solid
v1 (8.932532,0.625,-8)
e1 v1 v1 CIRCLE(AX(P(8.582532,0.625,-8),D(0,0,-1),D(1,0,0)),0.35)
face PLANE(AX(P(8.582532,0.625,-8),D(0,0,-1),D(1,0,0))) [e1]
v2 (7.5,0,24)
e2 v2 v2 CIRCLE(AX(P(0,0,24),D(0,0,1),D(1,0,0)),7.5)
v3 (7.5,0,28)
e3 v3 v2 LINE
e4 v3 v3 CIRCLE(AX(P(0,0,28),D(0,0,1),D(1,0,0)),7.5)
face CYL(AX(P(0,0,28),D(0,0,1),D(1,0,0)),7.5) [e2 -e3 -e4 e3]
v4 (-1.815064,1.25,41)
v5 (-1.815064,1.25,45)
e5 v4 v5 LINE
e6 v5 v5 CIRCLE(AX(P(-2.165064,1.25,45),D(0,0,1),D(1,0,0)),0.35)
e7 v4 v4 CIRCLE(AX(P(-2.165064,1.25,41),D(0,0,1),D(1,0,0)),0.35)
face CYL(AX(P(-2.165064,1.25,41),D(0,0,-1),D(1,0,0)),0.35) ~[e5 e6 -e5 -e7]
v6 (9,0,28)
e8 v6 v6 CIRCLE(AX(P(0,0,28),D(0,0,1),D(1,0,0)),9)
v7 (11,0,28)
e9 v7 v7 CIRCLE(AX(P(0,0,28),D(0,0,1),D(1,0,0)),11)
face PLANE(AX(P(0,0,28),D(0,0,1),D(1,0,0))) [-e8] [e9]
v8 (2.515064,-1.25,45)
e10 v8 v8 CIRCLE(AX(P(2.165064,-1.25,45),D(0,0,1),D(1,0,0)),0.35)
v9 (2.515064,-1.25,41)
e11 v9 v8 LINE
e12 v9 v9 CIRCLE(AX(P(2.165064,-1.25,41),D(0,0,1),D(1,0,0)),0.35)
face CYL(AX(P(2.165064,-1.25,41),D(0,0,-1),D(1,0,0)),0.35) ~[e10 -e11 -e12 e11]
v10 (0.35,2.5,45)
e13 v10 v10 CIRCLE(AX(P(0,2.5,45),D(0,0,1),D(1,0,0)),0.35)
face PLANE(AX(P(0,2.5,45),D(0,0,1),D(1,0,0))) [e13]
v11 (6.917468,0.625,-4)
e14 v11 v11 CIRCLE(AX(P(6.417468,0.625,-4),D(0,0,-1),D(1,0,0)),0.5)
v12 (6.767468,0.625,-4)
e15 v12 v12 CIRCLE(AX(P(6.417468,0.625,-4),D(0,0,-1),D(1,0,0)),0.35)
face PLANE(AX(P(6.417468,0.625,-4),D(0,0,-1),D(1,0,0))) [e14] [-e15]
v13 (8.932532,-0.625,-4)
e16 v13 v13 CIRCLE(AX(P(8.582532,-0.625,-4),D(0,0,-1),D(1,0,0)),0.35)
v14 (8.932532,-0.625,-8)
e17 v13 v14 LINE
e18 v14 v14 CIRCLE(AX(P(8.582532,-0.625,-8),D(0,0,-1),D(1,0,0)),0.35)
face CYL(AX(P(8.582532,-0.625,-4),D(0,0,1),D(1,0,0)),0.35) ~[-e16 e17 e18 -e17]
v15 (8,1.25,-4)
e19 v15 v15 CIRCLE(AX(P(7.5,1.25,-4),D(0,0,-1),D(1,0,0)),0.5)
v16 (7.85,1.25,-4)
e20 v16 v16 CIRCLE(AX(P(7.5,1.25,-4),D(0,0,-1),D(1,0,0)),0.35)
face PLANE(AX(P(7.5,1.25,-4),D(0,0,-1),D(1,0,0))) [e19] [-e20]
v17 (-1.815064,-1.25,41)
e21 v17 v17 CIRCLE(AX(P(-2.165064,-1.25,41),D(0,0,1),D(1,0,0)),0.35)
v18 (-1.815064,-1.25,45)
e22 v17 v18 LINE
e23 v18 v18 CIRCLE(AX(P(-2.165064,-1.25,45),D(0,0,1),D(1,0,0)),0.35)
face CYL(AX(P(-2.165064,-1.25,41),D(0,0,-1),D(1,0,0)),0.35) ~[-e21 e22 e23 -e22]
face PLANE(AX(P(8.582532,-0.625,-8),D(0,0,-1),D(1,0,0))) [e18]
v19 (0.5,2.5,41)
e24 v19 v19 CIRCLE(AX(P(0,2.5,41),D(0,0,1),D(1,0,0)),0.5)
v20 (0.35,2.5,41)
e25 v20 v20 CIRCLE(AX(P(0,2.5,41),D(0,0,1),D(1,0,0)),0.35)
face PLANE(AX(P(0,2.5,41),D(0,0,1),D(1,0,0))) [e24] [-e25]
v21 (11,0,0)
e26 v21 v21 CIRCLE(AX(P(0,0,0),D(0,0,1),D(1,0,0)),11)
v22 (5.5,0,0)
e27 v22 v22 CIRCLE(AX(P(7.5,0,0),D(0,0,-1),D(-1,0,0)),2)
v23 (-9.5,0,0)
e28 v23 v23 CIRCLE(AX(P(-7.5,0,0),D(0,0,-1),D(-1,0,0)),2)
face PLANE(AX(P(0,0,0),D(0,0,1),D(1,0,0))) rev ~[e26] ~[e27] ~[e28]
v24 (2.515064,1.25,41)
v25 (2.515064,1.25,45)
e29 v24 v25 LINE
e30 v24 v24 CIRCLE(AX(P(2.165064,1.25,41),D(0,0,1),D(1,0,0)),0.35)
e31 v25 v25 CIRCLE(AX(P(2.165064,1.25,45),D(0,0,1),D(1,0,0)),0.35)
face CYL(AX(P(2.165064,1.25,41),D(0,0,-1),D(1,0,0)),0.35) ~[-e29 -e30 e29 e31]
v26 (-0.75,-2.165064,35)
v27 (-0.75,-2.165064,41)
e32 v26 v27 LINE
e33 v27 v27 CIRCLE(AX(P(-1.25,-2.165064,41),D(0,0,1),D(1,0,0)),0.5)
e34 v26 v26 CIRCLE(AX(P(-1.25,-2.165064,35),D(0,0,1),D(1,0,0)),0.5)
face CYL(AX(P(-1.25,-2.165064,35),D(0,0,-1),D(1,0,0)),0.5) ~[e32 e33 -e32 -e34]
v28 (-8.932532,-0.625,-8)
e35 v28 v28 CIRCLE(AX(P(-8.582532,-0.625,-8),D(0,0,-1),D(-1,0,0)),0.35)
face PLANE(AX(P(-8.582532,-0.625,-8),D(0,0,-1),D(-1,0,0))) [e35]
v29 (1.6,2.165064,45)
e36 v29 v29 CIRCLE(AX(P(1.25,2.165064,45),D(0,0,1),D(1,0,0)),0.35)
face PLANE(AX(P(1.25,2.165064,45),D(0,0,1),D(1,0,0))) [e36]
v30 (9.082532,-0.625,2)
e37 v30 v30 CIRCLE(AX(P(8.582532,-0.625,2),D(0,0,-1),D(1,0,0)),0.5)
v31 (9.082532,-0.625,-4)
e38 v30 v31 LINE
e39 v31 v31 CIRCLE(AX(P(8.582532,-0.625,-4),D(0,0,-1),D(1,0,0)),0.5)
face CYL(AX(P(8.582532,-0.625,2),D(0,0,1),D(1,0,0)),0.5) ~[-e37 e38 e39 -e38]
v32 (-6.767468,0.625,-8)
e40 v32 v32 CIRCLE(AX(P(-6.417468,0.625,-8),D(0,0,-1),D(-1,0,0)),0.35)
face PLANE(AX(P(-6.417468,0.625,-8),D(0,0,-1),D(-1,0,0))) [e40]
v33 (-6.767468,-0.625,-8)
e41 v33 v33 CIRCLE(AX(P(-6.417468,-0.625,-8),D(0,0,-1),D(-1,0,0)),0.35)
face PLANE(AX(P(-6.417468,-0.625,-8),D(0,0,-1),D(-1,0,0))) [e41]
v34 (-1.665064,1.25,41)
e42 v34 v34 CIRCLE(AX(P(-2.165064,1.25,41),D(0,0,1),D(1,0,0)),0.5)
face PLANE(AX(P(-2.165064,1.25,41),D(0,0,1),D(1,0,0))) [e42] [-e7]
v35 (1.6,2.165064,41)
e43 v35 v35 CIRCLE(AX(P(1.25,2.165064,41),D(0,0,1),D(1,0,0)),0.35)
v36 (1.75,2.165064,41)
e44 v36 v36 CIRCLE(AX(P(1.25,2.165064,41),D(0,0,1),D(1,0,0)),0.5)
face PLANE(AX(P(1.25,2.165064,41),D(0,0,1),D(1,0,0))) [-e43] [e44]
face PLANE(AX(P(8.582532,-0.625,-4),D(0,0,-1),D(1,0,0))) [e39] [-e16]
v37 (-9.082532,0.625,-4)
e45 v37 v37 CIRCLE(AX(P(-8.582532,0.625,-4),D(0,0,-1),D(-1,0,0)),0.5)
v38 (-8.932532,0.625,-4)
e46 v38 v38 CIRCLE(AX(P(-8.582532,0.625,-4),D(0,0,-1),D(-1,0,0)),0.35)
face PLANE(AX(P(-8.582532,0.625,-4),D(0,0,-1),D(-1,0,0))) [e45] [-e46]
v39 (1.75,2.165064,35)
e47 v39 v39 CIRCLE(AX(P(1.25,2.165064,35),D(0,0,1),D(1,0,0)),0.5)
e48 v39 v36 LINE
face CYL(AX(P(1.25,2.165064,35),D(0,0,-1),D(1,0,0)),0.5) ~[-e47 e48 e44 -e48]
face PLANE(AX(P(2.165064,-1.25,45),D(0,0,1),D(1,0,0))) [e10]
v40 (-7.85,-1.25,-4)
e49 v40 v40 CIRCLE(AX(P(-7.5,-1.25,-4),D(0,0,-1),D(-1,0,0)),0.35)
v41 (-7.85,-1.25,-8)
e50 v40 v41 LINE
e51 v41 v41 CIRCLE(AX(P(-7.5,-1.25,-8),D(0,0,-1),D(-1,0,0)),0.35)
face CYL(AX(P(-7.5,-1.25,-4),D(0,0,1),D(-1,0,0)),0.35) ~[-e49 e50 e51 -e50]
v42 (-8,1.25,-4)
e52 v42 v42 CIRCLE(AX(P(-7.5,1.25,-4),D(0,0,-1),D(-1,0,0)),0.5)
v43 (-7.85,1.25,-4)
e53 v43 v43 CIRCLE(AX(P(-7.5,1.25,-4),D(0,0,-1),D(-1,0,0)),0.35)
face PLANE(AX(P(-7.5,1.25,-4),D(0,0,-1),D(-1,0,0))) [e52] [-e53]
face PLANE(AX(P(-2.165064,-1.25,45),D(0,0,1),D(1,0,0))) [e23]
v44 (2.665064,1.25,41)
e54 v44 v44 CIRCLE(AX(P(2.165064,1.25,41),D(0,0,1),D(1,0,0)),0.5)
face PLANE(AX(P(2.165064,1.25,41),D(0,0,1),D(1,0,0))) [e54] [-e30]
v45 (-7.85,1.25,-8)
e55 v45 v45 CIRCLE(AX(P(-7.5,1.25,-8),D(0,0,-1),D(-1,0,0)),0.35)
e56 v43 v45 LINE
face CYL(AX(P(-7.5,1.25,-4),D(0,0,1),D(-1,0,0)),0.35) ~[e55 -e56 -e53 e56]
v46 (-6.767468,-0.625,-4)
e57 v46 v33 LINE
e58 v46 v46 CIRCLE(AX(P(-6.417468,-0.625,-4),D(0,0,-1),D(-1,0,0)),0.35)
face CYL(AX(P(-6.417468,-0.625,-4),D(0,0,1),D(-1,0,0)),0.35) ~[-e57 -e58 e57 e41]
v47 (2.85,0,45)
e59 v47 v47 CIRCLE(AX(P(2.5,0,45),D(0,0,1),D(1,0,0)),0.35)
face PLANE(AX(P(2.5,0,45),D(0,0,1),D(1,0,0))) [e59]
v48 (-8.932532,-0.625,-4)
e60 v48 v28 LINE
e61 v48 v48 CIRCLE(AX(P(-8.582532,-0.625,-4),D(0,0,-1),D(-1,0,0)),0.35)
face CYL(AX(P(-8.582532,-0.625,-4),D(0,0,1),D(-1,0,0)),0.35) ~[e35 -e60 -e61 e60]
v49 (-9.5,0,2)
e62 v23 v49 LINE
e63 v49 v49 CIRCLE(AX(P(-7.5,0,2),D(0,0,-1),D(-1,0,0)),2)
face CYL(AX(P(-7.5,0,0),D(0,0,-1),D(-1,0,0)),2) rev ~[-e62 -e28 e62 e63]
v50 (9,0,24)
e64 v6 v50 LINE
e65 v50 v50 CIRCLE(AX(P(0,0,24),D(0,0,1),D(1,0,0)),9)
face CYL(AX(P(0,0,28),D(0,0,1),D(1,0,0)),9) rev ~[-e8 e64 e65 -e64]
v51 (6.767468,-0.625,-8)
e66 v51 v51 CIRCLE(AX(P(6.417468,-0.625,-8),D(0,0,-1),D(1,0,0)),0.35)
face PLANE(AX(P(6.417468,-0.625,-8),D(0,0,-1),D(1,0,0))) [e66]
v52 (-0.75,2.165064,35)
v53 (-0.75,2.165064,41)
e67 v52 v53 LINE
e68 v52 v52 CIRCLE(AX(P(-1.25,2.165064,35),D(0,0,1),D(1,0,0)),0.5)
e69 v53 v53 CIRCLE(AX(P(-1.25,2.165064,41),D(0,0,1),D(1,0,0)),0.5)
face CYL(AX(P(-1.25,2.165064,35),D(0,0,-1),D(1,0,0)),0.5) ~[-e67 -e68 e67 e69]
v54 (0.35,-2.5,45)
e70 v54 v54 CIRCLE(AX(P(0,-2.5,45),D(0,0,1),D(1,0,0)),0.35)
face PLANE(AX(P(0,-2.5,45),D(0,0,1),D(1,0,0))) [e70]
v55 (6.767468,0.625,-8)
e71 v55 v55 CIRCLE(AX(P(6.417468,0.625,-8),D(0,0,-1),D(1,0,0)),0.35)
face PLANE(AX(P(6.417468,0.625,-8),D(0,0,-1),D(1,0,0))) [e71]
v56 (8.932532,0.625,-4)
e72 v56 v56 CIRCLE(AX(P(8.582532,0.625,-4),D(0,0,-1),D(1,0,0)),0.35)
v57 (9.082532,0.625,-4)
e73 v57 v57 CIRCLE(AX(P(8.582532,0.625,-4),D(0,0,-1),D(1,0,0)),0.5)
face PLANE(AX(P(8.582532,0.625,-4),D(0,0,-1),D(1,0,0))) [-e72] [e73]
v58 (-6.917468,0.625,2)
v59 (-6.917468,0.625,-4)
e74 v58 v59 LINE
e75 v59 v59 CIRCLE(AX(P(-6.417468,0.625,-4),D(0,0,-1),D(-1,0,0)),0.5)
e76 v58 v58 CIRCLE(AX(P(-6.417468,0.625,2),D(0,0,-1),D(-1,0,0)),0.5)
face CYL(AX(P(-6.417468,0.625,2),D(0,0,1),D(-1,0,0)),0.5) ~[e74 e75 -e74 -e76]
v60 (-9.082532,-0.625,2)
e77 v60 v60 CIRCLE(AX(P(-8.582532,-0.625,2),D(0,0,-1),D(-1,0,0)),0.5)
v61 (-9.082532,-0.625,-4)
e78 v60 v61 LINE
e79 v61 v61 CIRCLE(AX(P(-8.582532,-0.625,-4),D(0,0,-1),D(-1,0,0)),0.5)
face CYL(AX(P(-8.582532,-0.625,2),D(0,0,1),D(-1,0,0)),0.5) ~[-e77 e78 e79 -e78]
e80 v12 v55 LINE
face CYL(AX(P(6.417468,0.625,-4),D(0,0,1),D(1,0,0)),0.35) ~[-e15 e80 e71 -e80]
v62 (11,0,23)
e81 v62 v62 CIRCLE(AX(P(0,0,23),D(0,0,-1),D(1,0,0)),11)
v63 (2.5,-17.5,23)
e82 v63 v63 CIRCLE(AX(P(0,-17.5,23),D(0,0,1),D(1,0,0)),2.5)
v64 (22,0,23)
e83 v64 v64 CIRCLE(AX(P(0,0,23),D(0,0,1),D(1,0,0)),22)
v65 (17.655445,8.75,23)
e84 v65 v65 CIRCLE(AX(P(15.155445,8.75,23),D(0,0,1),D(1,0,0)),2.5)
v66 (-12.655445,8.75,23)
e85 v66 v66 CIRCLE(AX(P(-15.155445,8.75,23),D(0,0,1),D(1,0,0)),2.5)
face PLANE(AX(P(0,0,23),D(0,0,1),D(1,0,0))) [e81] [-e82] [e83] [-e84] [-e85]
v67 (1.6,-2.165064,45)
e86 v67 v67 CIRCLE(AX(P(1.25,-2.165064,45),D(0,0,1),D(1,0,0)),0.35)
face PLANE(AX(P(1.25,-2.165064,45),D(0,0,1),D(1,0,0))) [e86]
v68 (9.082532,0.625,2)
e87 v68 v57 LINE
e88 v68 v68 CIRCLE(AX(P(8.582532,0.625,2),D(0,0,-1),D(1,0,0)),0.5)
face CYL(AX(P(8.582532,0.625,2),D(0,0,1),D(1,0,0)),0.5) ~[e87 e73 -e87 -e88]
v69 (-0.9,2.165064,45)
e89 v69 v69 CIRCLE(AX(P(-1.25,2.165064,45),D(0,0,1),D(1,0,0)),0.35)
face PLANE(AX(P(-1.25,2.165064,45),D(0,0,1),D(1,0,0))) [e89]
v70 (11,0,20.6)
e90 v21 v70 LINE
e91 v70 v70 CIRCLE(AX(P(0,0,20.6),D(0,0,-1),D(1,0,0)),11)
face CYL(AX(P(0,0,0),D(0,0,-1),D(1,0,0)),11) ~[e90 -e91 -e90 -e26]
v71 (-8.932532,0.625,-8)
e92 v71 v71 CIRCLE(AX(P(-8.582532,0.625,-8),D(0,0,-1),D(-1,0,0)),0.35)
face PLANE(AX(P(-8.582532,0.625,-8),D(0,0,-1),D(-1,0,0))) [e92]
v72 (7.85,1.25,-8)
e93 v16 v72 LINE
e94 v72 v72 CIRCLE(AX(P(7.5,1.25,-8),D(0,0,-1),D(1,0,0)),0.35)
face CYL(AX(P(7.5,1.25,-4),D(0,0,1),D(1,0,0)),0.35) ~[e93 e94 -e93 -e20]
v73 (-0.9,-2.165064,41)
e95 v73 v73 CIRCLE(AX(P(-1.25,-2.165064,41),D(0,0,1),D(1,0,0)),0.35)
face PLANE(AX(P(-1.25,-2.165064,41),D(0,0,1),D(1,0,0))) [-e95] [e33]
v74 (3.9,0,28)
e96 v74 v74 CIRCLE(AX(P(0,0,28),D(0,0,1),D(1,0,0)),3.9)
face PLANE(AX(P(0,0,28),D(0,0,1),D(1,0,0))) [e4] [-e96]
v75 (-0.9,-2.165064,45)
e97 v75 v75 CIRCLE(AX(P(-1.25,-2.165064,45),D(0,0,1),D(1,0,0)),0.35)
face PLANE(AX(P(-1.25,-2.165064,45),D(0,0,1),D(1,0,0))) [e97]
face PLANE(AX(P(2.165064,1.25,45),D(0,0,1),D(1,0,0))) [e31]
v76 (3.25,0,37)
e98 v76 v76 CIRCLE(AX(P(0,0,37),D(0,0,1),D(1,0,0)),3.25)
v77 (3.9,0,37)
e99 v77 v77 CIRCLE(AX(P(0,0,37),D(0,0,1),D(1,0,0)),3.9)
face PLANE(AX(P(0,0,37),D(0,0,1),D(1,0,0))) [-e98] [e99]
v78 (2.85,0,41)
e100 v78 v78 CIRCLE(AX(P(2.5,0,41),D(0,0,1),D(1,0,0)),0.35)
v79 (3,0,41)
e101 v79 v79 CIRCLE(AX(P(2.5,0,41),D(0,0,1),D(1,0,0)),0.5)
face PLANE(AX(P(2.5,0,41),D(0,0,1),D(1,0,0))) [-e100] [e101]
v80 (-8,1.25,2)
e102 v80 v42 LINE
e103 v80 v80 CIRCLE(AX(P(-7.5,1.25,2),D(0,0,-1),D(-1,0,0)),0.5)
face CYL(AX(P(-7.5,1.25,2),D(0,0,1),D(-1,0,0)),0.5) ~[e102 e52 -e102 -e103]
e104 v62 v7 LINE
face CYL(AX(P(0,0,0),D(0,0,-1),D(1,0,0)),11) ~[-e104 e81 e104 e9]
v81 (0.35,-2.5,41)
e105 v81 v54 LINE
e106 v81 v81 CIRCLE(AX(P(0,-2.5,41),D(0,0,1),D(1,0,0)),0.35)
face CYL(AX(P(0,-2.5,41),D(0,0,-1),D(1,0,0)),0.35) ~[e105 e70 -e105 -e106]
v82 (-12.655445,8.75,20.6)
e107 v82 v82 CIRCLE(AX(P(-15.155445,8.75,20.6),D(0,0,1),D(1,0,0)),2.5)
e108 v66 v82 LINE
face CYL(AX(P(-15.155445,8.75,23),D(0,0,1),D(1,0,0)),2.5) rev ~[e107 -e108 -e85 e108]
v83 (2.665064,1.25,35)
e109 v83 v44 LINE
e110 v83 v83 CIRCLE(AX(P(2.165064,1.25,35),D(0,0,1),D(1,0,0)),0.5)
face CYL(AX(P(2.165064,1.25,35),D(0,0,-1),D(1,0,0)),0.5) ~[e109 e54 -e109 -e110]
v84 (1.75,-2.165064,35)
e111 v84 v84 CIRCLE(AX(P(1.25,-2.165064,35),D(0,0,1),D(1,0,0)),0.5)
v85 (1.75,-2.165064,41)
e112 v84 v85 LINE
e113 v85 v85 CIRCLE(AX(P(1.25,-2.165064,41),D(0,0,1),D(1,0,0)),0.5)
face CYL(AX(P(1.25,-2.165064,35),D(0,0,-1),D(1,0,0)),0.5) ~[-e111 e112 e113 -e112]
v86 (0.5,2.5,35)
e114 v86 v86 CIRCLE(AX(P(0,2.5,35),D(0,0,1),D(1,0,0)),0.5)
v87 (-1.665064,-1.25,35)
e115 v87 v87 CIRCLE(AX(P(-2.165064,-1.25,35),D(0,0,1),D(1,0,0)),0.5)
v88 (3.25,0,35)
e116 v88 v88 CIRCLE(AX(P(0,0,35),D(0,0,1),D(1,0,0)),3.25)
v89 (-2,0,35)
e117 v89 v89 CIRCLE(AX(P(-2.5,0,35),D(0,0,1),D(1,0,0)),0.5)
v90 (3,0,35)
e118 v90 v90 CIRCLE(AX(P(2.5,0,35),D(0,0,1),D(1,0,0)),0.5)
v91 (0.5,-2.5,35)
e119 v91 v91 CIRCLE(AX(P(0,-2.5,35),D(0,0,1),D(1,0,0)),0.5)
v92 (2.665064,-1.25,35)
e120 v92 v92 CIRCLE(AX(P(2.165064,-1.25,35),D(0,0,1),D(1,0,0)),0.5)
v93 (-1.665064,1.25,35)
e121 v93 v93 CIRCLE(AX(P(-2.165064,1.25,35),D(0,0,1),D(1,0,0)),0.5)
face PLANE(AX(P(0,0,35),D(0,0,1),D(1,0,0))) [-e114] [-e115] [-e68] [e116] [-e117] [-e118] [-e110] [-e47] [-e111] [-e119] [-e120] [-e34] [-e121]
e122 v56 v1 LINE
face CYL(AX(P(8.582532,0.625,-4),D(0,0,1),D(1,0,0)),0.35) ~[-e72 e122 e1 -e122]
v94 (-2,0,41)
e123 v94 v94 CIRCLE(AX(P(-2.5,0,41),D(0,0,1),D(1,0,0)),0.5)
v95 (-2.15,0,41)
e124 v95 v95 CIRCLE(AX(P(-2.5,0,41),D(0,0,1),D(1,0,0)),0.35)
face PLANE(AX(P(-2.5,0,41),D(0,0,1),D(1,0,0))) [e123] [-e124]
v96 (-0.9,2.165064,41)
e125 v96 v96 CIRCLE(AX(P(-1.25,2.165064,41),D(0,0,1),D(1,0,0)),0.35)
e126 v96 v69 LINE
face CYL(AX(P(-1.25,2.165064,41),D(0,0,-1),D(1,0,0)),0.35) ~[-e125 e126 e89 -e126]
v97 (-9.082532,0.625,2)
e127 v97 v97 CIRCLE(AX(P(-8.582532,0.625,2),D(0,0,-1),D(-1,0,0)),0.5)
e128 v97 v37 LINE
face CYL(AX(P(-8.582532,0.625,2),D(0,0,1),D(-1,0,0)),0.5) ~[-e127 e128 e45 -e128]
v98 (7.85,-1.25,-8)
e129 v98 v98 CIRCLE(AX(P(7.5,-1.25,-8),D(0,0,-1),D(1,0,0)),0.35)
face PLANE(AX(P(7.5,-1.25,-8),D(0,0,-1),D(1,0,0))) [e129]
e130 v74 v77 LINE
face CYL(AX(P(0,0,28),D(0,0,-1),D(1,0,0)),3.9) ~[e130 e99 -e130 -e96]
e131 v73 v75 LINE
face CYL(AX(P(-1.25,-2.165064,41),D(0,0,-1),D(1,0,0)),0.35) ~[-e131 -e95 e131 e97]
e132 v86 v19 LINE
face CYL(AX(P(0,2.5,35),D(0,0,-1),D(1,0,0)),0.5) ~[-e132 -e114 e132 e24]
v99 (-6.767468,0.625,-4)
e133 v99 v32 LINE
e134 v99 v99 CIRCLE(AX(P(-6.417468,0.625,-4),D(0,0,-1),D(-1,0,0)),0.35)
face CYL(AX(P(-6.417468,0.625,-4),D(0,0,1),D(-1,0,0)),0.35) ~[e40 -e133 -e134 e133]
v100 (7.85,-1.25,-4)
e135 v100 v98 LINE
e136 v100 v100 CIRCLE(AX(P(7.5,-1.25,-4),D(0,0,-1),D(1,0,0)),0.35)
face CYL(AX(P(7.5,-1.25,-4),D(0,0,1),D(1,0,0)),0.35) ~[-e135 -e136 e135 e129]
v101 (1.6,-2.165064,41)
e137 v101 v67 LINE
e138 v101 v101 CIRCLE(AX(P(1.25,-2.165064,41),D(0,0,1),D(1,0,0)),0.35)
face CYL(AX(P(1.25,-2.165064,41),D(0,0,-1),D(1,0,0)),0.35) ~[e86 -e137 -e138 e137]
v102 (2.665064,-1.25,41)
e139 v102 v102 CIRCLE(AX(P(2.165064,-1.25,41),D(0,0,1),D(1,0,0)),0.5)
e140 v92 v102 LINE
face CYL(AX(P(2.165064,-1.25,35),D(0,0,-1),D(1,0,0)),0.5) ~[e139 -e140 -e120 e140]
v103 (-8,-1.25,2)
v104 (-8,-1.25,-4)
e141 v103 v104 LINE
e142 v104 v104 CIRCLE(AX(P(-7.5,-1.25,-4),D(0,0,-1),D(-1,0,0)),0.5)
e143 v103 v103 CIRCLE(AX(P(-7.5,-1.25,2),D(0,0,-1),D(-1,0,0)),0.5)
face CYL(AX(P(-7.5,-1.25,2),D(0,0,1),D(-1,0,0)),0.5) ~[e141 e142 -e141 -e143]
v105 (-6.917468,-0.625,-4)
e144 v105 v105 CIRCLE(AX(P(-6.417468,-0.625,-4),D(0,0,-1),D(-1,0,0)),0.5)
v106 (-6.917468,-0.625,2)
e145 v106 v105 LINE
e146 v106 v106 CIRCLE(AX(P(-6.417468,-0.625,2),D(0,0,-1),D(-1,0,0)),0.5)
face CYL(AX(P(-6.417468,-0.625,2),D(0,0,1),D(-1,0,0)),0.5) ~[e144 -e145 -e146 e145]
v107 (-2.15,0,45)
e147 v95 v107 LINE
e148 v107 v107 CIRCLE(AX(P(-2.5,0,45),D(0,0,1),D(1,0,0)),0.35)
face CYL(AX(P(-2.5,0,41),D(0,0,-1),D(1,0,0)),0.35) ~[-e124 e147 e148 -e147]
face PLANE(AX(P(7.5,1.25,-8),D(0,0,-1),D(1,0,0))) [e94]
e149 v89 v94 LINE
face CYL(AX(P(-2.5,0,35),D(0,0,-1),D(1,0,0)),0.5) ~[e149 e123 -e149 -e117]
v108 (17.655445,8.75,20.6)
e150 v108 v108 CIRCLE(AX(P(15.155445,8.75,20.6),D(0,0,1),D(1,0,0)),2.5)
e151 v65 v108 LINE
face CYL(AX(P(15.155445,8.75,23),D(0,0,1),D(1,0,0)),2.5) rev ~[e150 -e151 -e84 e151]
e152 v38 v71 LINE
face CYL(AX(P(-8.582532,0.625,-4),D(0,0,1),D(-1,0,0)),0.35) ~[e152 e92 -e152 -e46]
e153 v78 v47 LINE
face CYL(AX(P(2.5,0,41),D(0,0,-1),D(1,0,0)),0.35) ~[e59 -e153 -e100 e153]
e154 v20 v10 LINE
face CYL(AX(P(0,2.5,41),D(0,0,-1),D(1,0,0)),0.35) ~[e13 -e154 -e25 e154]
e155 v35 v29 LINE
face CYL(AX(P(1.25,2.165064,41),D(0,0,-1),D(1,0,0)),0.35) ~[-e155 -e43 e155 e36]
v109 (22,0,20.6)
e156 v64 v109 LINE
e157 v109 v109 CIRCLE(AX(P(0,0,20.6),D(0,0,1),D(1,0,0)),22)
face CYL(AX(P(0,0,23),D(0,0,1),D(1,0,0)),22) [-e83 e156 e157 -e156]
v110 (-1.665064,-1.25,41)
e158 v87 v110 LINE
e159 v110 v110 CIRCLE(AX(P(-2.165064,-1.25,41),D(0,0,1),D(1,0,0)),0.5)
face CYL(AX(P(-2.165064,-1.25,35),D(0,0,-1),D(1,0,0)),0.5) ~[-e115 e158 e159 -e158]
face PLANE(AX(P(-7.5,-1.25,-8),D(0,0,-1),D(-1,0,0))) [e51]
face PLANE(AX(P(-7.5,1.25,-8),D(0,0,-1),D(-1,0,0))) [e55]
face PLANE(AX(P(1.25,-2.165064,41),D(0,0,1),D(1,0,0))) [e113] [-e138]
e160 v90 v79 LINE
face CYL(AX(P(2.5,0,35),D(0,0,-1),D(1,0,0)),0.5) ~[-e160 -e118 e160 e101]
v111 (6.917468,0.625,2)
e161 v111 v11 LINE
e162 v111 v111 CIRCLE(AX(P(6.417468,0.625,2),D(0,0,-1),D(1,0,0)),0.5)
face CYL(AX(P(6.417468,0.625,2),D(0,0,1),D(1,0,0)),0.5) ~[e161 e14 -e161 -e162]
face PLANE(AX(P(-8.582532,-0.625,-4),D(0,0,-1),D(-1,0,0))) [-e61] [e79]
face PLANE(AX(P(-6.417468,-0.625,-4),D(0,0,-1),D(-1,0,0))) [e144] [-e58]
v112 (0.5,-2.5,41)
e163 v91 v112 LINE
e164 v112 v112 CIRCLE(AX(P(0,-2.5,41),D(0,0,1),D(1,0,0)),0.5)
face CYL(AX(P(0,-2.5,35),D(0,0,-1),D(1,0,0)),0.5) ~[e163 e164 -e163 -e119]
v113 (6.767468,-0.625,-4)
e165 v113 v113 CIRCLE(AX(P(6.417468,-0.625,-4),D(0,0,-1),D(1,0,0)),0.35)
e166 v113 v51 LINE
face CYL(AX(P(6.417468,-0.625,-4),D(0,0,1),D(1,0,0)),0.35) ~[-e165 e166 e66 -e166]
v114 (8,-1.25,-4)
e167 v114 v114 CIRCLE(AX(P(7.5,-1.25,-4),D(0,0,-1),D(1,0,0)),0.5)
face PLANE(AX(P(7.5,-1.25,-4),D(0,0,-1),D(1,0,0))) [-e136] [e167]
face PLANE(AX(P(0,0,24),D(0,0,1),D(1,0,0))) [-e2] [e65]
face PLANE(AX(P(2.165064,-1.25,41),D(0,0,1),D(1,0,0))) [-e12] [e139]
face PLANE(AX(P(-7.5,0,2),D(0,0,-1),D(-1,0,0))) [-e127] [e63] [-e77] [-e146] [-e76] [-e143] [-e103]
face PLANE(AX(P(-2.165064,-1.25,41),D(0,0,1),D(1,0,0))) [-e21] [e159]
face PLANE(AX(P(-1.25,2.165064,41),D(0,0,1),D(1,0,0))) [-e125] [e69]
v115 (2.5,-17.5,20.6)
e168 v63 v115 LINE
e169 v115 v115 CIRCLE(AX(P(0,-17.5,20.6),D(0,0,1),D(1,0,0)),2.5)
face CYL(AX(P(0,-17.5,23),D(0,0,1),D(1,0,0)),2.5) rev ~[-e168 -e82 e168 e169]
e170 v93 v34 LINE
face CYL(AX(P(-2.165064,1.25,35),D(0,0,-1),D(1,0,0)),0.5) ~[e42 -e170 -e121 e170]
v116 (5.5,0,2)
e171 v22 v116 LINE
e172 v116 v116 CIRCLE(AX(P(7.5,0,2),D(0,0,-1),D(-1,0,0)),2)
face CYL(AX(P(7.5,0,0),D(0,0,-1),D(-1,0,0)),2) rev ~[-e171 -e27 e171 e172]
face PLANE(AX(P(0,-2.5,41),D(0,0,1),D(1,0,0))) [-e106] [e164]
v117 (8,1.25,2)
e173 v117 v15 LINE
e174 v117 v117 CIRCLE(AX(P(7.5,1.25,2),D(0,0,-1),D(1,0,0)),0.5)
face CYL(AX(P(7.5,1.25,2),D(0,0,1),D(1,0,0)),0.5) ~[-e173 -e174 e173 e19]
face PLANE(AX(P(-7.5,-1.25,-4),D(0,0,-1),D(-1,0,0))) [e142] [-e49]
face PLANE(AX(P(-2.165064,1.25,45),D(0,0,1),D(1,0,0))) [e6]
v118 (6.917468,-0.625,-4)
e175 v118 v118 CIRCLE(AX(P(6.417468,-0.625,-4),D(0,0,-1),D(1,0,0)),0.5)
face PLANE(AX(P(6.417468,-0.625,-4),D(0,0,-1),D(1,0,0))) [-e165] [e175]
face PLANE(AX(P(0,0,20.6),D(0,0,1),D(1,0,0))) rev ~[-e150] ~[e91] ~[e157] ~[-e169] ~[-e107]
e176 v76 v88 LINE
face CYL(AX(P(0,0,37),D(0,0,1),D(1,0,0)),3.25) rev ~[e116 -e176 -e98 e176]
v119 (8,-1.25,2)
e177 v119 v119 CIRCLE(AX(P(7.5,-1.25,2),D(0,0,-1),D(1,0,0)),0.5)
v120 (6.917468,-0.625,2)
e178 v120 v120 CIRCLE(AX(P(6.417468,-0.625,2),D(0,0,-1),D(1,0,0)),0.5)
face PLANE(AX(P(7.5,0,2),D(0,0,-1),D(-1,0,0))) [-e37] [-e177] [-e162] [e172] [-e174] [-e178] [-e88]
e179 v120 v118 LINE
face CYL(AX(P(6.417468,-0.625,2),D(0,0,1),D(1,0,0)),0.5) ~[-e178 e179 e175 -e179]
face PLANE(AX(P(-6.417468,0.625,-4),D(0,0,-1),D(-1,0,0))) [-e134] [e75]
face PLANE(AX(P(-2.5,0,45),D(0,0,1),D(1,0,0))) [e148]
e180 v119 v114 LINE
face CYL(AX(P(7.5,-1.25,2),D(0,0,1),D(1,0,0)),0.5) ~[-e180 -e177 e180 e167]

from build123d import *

# Parameters (mm, degrees)
IZIM1_R                     = 11
Y_KSEKLIK_EKSTR_ZYON1_DEPTH = 28
IZIM2_R                     = 22
Y_KSEKLIK_EKSTR_ZYON2_DEPTH = 2.4
IZIM3_R                     = 2.5
KES_EKSTR_ZYON1_DEPTH       = 10
IZIM4_R                     = 3.9
Y_KSEKLIK_EKSTR_ZYON3_DEPTH = 9
IZIM6_R                     = 3.25
KES_EKSTR_ZYON3_DEPTH       = 2
IZIM7_R                     = 0.5
Y_KSEKLIK_EKSTR_ZYON5_DEPTH = 6
IZIM8_R                     = 0.35
Y_KSEKLIK_EKSTR_ZYON6_DEPTH = 4
IZIM9_R                     = 2
KES_EKSTR_ZYON4_DEPTH       = 2
IZIM10_R                    = 0.5
Y_KSEKLIK_EKSTR_ZYON7_DEPTH = 6
IZIM12_R                    = 9
IZIM12_R_2                  = 7.5
KES_EKSTR_ZYON5_DEPTH       = 4
IZIM13_R                    = 0.35
Y_KSEKLIK_EKSTR_ZYON8_DEPTH = 4


with BuildPart() as part:
    # Çizim1 → Yükseklik-Ekstrüzyon1 (new body)
    with BuildSketch(Plane.XY):
        Circle(IZIM1_R)
    extrude(amount=Y_KSEKLIK_EKSTR_ZYON1_DEPTH)

    # Çizim2 → Yükseklik-Ekstrüzyon2 (add)
    with BuildSketch(Plane.XY.offset(23)):
        Circle(IZIM2_R)
    extrude(amount=-Y_KSEKLIK_EKSTR_ZYON2_DEPTH)

    # Çizim3 → Kes-Ekstrüzyon1 (cut)
    with BuildSketch(Plane.XY.offset(23)):
        with Locations((0, -17.5)):
            Circle(IZIM3_R)
        with Locations((-15.155444566, 8.75)):
            Circle(IZIM3_R)
        with Locations((15.155444566, 8.75)):
            Circle(IZIM3_R)
    extrude(amount=-KES_EKSTR_ZYON1_DEPTH, mode=Mode.SUBTRACT)

    # Çizim4 → Yükseklik-Ekstrüzyon3 (add)
    with BuildSketch(Plane.XY.offset(28)):
        Circle(IZIM4_R)
    extrude(amount=Y_KSEKLIK_EKSTR_ZYON3_DEPTH)

    # Çizim6 → Kes-Ekstrüzyon3 (cut)
    with BuildSketch(Plane.XY.offset(37)):
        Circle(IZIM6_R)
    extrude(amount=-KES_EKSTR_ZYON3_DEPTH, mode=Mode.SUBTRACT)

    # Çizim7 → Yükseklik-Ekstrüzyon5 (add)
    with BuildSketch(Plane.XY.offset(35)):
        with Locations((0, 2.5)):
            Circle(IZIM7_R)
        with Locations((1.25, 2.165063509)):
            Circle(IZIM7_R)
        with Locations((2.165063509, 1.25)):
            Circle(IZIM7_R)
        with Locations((2.5, 0)):
            Circle(IZIM7_R)
        with Locations((2.165063509, -1.25)):
            Circle(IZIM7_R)
        with Locations((1.25, -2.165063509)):
            Circle(IZIM7_R)
        with Locations((0, -2.5)):
            Circle(IZIM7_R)
        with Locations((-1.25, -2.165063509)):
            Circle(IZIM7_R)
        with Locations((-2.165063509, -1.25)):
            Circle(IZIM7_R)
        with Locations((-2.5, 0)):
            Circle(IZIM7_R)
        with Locations((-2.165063509, 1.25)):
            Circle(IZIM7_R)
        with Locations((-1.25, 2.165063509)):
            Circle(IZIM7_R)
    extrude(amount=Y_KSEKLIK_EKSTR_ZYON5_DEPTH)

    # Çizim8 → Yükseklik-Ekstrüzyon6 (add)
    with BuildSketch(Plane.XY.offset(41)):
        with Locations((0, 2.5)):
            Circle(IZIM8_R)
        with Locations((1.25, 2.165063509)):
            Circle(IZIM8_R)
        with Locations((2.165063509, 1.25)):
            Circle(IZIM8_R)
        with Locations((2.5, 0)):
            Circle(IZIM8_R)
        with Locations((2.165063509, -1.25)):
            Circle(IZIM8_R)
        with Locations((1.25, -2.165063509)):
            Circle(IZIM8_R)
        with Locations((0, -2.5)):
            Circle(IZIM8_R)
        with Locations((-1.25, -2.165063509)):
            Circle(IZIM8_R)
        with Locations((-2.165063509, -1.25)):
            Circle(IZIM8_R)
        with Locations((-2.5, 0)):
            Circle(IZIM8_R)
        with Locations((-2.165063509, 1.25)):
            Circle(IZIM8_R)
        with Locations((-1.25, 2.165063509)):
            Circle(IZIM8_R)
    extrude(amount=Y_KSEKLIK_EKSTR_ZYON6_DEPTH)

    # Çizim9 → Kes-Ekstrüzyon4 (cut)
    with BuildSketch(Plane(origin=(0, 0, 0), x_dir=(-1, 0, 0), z_dir=(0, 0, -1))):
        with Locations((-7.5, 0)):
            Circle(IZIM9_R)
        with Locations((7.5, 0)):
            Circle(IZIM9_R)
    extrude(amount=-KES_EKSTR_ZYON4_DEPTH, mode=Mode.SUBTRACT)

    # Çizim10 → Yükseklik-Ekstrüzyon7 (add)
    with BuildSketch(Plane(origin=(0, 0, 2), x_dir=(-1, 0, 0), z_dir=(0, 0, -1))):
        with Locations((7.5, 1.25)):
            Circle(IZIM10_R)
        with Locations((8.582531755, 0.625)):
            Circle(IZIM10_R)
        with Locations((8.582531755, -0.625)):
            Circle(IZIM10_R)
        with Locations((7.5, -1.25)):
            Circle(IZIM10_R)
        with Locations(Location((-6.417468245, 0.625, 0), (0, 0, 180))):
            Circle(IZIM10_R)
        with Locations(Location((-6.417468245, -0.625, 0), (0, 0, 180))):
            Circle(IZIM10_R)
        with Locations(Location((-7.5, -1.25, 0), (0, 0, 180))):
            Circle(IZIM10_R)
        with Locations(Location((-8.582531755, -0.625, 0), (0, 0, 180))):
            Circle(IZIM10_R)
        with Locations((6.417468245, -0.625)):
            Circle(IZIM10_R)
        with Locations((6.417468245, 0.625)):
            Circle(IZIM10_R)
        with Locations(Location((-8.582531755, 0.625, 0), (0, 0, 180))):
            Circle(IZIM10_R)
        with Locations(Location((-7.5, 1.25, 0), (0, 0, 180))):
            Circle(IZIM10_R)
    extrude(amount=Y_KSEKLIK_EKSTR_ZYON7_DEPTH)

    # Çizim12 → Kes-Ekstrüzyon5 (cut)
    with BuildSketch(Plane.XY.offset(28)):
        Circle(IZIM12_R)
        Circle(IZIM12_R_2, mode=Mode.SUBTRACT)
    extrude(amount=-KES_EKSTR_ZYON5_DEPTH, mode=Mode.SUBTRACT)

    # Çizim13 → Yükseklik-Ekstrüzyon8 (add)
    with BuildSketch(Plane(origin=(0, 0, -4), x_dir=(-1, 0, 0), z_dir=(0, 0, -1))):
        with Locations((7.5, 1.25)):
            Circle(IZIM13_R)
        with Locations((8.582531755, 0.625)):
            Circle(IZIM13_R)
        with Locations((8.582531755, -0.625)):
            Circle(IZIM13_R)
        with Locations((7.5, -1.25)):
            Circle(IZIM13_R)
        with Locations((6.417468245, -0.625)):
            Circle(IZIM13_R)
        with Locations((6.417468245, 0.625)):
            Circle(IZIM13_R)
        with Locations(Location((-6.417468245, 0.625, 0), (0, 0, 180))):
            Circle(IZIM13_R)
        with Locations(Location((-6.417468245, -0.625, 0), (0, 0, 180))):
            Circle(IZIM13_R)
        with Locations(Location((-7.5, -1.25, 0), (0, 0, 180))):
            Circle(IZIM13_R)
        with Locations(Location((-8.582531755, -0.625, 0), (0, 0, 180))):
            Circle(IZIM13_R)
        with Locations(Location((-8.582531755, 0.625, 0), (0, 0, 180))):
            Circle(IZIM13_R)
        with Locations(Location((-7.5, 1.25, 0), (0, 0, 180))):
            Circle(IZIM13_R)
    extrude(amount=Y_KSEKLIK_EKSTR_ZYON8_DEPTH)


solid = part.part
